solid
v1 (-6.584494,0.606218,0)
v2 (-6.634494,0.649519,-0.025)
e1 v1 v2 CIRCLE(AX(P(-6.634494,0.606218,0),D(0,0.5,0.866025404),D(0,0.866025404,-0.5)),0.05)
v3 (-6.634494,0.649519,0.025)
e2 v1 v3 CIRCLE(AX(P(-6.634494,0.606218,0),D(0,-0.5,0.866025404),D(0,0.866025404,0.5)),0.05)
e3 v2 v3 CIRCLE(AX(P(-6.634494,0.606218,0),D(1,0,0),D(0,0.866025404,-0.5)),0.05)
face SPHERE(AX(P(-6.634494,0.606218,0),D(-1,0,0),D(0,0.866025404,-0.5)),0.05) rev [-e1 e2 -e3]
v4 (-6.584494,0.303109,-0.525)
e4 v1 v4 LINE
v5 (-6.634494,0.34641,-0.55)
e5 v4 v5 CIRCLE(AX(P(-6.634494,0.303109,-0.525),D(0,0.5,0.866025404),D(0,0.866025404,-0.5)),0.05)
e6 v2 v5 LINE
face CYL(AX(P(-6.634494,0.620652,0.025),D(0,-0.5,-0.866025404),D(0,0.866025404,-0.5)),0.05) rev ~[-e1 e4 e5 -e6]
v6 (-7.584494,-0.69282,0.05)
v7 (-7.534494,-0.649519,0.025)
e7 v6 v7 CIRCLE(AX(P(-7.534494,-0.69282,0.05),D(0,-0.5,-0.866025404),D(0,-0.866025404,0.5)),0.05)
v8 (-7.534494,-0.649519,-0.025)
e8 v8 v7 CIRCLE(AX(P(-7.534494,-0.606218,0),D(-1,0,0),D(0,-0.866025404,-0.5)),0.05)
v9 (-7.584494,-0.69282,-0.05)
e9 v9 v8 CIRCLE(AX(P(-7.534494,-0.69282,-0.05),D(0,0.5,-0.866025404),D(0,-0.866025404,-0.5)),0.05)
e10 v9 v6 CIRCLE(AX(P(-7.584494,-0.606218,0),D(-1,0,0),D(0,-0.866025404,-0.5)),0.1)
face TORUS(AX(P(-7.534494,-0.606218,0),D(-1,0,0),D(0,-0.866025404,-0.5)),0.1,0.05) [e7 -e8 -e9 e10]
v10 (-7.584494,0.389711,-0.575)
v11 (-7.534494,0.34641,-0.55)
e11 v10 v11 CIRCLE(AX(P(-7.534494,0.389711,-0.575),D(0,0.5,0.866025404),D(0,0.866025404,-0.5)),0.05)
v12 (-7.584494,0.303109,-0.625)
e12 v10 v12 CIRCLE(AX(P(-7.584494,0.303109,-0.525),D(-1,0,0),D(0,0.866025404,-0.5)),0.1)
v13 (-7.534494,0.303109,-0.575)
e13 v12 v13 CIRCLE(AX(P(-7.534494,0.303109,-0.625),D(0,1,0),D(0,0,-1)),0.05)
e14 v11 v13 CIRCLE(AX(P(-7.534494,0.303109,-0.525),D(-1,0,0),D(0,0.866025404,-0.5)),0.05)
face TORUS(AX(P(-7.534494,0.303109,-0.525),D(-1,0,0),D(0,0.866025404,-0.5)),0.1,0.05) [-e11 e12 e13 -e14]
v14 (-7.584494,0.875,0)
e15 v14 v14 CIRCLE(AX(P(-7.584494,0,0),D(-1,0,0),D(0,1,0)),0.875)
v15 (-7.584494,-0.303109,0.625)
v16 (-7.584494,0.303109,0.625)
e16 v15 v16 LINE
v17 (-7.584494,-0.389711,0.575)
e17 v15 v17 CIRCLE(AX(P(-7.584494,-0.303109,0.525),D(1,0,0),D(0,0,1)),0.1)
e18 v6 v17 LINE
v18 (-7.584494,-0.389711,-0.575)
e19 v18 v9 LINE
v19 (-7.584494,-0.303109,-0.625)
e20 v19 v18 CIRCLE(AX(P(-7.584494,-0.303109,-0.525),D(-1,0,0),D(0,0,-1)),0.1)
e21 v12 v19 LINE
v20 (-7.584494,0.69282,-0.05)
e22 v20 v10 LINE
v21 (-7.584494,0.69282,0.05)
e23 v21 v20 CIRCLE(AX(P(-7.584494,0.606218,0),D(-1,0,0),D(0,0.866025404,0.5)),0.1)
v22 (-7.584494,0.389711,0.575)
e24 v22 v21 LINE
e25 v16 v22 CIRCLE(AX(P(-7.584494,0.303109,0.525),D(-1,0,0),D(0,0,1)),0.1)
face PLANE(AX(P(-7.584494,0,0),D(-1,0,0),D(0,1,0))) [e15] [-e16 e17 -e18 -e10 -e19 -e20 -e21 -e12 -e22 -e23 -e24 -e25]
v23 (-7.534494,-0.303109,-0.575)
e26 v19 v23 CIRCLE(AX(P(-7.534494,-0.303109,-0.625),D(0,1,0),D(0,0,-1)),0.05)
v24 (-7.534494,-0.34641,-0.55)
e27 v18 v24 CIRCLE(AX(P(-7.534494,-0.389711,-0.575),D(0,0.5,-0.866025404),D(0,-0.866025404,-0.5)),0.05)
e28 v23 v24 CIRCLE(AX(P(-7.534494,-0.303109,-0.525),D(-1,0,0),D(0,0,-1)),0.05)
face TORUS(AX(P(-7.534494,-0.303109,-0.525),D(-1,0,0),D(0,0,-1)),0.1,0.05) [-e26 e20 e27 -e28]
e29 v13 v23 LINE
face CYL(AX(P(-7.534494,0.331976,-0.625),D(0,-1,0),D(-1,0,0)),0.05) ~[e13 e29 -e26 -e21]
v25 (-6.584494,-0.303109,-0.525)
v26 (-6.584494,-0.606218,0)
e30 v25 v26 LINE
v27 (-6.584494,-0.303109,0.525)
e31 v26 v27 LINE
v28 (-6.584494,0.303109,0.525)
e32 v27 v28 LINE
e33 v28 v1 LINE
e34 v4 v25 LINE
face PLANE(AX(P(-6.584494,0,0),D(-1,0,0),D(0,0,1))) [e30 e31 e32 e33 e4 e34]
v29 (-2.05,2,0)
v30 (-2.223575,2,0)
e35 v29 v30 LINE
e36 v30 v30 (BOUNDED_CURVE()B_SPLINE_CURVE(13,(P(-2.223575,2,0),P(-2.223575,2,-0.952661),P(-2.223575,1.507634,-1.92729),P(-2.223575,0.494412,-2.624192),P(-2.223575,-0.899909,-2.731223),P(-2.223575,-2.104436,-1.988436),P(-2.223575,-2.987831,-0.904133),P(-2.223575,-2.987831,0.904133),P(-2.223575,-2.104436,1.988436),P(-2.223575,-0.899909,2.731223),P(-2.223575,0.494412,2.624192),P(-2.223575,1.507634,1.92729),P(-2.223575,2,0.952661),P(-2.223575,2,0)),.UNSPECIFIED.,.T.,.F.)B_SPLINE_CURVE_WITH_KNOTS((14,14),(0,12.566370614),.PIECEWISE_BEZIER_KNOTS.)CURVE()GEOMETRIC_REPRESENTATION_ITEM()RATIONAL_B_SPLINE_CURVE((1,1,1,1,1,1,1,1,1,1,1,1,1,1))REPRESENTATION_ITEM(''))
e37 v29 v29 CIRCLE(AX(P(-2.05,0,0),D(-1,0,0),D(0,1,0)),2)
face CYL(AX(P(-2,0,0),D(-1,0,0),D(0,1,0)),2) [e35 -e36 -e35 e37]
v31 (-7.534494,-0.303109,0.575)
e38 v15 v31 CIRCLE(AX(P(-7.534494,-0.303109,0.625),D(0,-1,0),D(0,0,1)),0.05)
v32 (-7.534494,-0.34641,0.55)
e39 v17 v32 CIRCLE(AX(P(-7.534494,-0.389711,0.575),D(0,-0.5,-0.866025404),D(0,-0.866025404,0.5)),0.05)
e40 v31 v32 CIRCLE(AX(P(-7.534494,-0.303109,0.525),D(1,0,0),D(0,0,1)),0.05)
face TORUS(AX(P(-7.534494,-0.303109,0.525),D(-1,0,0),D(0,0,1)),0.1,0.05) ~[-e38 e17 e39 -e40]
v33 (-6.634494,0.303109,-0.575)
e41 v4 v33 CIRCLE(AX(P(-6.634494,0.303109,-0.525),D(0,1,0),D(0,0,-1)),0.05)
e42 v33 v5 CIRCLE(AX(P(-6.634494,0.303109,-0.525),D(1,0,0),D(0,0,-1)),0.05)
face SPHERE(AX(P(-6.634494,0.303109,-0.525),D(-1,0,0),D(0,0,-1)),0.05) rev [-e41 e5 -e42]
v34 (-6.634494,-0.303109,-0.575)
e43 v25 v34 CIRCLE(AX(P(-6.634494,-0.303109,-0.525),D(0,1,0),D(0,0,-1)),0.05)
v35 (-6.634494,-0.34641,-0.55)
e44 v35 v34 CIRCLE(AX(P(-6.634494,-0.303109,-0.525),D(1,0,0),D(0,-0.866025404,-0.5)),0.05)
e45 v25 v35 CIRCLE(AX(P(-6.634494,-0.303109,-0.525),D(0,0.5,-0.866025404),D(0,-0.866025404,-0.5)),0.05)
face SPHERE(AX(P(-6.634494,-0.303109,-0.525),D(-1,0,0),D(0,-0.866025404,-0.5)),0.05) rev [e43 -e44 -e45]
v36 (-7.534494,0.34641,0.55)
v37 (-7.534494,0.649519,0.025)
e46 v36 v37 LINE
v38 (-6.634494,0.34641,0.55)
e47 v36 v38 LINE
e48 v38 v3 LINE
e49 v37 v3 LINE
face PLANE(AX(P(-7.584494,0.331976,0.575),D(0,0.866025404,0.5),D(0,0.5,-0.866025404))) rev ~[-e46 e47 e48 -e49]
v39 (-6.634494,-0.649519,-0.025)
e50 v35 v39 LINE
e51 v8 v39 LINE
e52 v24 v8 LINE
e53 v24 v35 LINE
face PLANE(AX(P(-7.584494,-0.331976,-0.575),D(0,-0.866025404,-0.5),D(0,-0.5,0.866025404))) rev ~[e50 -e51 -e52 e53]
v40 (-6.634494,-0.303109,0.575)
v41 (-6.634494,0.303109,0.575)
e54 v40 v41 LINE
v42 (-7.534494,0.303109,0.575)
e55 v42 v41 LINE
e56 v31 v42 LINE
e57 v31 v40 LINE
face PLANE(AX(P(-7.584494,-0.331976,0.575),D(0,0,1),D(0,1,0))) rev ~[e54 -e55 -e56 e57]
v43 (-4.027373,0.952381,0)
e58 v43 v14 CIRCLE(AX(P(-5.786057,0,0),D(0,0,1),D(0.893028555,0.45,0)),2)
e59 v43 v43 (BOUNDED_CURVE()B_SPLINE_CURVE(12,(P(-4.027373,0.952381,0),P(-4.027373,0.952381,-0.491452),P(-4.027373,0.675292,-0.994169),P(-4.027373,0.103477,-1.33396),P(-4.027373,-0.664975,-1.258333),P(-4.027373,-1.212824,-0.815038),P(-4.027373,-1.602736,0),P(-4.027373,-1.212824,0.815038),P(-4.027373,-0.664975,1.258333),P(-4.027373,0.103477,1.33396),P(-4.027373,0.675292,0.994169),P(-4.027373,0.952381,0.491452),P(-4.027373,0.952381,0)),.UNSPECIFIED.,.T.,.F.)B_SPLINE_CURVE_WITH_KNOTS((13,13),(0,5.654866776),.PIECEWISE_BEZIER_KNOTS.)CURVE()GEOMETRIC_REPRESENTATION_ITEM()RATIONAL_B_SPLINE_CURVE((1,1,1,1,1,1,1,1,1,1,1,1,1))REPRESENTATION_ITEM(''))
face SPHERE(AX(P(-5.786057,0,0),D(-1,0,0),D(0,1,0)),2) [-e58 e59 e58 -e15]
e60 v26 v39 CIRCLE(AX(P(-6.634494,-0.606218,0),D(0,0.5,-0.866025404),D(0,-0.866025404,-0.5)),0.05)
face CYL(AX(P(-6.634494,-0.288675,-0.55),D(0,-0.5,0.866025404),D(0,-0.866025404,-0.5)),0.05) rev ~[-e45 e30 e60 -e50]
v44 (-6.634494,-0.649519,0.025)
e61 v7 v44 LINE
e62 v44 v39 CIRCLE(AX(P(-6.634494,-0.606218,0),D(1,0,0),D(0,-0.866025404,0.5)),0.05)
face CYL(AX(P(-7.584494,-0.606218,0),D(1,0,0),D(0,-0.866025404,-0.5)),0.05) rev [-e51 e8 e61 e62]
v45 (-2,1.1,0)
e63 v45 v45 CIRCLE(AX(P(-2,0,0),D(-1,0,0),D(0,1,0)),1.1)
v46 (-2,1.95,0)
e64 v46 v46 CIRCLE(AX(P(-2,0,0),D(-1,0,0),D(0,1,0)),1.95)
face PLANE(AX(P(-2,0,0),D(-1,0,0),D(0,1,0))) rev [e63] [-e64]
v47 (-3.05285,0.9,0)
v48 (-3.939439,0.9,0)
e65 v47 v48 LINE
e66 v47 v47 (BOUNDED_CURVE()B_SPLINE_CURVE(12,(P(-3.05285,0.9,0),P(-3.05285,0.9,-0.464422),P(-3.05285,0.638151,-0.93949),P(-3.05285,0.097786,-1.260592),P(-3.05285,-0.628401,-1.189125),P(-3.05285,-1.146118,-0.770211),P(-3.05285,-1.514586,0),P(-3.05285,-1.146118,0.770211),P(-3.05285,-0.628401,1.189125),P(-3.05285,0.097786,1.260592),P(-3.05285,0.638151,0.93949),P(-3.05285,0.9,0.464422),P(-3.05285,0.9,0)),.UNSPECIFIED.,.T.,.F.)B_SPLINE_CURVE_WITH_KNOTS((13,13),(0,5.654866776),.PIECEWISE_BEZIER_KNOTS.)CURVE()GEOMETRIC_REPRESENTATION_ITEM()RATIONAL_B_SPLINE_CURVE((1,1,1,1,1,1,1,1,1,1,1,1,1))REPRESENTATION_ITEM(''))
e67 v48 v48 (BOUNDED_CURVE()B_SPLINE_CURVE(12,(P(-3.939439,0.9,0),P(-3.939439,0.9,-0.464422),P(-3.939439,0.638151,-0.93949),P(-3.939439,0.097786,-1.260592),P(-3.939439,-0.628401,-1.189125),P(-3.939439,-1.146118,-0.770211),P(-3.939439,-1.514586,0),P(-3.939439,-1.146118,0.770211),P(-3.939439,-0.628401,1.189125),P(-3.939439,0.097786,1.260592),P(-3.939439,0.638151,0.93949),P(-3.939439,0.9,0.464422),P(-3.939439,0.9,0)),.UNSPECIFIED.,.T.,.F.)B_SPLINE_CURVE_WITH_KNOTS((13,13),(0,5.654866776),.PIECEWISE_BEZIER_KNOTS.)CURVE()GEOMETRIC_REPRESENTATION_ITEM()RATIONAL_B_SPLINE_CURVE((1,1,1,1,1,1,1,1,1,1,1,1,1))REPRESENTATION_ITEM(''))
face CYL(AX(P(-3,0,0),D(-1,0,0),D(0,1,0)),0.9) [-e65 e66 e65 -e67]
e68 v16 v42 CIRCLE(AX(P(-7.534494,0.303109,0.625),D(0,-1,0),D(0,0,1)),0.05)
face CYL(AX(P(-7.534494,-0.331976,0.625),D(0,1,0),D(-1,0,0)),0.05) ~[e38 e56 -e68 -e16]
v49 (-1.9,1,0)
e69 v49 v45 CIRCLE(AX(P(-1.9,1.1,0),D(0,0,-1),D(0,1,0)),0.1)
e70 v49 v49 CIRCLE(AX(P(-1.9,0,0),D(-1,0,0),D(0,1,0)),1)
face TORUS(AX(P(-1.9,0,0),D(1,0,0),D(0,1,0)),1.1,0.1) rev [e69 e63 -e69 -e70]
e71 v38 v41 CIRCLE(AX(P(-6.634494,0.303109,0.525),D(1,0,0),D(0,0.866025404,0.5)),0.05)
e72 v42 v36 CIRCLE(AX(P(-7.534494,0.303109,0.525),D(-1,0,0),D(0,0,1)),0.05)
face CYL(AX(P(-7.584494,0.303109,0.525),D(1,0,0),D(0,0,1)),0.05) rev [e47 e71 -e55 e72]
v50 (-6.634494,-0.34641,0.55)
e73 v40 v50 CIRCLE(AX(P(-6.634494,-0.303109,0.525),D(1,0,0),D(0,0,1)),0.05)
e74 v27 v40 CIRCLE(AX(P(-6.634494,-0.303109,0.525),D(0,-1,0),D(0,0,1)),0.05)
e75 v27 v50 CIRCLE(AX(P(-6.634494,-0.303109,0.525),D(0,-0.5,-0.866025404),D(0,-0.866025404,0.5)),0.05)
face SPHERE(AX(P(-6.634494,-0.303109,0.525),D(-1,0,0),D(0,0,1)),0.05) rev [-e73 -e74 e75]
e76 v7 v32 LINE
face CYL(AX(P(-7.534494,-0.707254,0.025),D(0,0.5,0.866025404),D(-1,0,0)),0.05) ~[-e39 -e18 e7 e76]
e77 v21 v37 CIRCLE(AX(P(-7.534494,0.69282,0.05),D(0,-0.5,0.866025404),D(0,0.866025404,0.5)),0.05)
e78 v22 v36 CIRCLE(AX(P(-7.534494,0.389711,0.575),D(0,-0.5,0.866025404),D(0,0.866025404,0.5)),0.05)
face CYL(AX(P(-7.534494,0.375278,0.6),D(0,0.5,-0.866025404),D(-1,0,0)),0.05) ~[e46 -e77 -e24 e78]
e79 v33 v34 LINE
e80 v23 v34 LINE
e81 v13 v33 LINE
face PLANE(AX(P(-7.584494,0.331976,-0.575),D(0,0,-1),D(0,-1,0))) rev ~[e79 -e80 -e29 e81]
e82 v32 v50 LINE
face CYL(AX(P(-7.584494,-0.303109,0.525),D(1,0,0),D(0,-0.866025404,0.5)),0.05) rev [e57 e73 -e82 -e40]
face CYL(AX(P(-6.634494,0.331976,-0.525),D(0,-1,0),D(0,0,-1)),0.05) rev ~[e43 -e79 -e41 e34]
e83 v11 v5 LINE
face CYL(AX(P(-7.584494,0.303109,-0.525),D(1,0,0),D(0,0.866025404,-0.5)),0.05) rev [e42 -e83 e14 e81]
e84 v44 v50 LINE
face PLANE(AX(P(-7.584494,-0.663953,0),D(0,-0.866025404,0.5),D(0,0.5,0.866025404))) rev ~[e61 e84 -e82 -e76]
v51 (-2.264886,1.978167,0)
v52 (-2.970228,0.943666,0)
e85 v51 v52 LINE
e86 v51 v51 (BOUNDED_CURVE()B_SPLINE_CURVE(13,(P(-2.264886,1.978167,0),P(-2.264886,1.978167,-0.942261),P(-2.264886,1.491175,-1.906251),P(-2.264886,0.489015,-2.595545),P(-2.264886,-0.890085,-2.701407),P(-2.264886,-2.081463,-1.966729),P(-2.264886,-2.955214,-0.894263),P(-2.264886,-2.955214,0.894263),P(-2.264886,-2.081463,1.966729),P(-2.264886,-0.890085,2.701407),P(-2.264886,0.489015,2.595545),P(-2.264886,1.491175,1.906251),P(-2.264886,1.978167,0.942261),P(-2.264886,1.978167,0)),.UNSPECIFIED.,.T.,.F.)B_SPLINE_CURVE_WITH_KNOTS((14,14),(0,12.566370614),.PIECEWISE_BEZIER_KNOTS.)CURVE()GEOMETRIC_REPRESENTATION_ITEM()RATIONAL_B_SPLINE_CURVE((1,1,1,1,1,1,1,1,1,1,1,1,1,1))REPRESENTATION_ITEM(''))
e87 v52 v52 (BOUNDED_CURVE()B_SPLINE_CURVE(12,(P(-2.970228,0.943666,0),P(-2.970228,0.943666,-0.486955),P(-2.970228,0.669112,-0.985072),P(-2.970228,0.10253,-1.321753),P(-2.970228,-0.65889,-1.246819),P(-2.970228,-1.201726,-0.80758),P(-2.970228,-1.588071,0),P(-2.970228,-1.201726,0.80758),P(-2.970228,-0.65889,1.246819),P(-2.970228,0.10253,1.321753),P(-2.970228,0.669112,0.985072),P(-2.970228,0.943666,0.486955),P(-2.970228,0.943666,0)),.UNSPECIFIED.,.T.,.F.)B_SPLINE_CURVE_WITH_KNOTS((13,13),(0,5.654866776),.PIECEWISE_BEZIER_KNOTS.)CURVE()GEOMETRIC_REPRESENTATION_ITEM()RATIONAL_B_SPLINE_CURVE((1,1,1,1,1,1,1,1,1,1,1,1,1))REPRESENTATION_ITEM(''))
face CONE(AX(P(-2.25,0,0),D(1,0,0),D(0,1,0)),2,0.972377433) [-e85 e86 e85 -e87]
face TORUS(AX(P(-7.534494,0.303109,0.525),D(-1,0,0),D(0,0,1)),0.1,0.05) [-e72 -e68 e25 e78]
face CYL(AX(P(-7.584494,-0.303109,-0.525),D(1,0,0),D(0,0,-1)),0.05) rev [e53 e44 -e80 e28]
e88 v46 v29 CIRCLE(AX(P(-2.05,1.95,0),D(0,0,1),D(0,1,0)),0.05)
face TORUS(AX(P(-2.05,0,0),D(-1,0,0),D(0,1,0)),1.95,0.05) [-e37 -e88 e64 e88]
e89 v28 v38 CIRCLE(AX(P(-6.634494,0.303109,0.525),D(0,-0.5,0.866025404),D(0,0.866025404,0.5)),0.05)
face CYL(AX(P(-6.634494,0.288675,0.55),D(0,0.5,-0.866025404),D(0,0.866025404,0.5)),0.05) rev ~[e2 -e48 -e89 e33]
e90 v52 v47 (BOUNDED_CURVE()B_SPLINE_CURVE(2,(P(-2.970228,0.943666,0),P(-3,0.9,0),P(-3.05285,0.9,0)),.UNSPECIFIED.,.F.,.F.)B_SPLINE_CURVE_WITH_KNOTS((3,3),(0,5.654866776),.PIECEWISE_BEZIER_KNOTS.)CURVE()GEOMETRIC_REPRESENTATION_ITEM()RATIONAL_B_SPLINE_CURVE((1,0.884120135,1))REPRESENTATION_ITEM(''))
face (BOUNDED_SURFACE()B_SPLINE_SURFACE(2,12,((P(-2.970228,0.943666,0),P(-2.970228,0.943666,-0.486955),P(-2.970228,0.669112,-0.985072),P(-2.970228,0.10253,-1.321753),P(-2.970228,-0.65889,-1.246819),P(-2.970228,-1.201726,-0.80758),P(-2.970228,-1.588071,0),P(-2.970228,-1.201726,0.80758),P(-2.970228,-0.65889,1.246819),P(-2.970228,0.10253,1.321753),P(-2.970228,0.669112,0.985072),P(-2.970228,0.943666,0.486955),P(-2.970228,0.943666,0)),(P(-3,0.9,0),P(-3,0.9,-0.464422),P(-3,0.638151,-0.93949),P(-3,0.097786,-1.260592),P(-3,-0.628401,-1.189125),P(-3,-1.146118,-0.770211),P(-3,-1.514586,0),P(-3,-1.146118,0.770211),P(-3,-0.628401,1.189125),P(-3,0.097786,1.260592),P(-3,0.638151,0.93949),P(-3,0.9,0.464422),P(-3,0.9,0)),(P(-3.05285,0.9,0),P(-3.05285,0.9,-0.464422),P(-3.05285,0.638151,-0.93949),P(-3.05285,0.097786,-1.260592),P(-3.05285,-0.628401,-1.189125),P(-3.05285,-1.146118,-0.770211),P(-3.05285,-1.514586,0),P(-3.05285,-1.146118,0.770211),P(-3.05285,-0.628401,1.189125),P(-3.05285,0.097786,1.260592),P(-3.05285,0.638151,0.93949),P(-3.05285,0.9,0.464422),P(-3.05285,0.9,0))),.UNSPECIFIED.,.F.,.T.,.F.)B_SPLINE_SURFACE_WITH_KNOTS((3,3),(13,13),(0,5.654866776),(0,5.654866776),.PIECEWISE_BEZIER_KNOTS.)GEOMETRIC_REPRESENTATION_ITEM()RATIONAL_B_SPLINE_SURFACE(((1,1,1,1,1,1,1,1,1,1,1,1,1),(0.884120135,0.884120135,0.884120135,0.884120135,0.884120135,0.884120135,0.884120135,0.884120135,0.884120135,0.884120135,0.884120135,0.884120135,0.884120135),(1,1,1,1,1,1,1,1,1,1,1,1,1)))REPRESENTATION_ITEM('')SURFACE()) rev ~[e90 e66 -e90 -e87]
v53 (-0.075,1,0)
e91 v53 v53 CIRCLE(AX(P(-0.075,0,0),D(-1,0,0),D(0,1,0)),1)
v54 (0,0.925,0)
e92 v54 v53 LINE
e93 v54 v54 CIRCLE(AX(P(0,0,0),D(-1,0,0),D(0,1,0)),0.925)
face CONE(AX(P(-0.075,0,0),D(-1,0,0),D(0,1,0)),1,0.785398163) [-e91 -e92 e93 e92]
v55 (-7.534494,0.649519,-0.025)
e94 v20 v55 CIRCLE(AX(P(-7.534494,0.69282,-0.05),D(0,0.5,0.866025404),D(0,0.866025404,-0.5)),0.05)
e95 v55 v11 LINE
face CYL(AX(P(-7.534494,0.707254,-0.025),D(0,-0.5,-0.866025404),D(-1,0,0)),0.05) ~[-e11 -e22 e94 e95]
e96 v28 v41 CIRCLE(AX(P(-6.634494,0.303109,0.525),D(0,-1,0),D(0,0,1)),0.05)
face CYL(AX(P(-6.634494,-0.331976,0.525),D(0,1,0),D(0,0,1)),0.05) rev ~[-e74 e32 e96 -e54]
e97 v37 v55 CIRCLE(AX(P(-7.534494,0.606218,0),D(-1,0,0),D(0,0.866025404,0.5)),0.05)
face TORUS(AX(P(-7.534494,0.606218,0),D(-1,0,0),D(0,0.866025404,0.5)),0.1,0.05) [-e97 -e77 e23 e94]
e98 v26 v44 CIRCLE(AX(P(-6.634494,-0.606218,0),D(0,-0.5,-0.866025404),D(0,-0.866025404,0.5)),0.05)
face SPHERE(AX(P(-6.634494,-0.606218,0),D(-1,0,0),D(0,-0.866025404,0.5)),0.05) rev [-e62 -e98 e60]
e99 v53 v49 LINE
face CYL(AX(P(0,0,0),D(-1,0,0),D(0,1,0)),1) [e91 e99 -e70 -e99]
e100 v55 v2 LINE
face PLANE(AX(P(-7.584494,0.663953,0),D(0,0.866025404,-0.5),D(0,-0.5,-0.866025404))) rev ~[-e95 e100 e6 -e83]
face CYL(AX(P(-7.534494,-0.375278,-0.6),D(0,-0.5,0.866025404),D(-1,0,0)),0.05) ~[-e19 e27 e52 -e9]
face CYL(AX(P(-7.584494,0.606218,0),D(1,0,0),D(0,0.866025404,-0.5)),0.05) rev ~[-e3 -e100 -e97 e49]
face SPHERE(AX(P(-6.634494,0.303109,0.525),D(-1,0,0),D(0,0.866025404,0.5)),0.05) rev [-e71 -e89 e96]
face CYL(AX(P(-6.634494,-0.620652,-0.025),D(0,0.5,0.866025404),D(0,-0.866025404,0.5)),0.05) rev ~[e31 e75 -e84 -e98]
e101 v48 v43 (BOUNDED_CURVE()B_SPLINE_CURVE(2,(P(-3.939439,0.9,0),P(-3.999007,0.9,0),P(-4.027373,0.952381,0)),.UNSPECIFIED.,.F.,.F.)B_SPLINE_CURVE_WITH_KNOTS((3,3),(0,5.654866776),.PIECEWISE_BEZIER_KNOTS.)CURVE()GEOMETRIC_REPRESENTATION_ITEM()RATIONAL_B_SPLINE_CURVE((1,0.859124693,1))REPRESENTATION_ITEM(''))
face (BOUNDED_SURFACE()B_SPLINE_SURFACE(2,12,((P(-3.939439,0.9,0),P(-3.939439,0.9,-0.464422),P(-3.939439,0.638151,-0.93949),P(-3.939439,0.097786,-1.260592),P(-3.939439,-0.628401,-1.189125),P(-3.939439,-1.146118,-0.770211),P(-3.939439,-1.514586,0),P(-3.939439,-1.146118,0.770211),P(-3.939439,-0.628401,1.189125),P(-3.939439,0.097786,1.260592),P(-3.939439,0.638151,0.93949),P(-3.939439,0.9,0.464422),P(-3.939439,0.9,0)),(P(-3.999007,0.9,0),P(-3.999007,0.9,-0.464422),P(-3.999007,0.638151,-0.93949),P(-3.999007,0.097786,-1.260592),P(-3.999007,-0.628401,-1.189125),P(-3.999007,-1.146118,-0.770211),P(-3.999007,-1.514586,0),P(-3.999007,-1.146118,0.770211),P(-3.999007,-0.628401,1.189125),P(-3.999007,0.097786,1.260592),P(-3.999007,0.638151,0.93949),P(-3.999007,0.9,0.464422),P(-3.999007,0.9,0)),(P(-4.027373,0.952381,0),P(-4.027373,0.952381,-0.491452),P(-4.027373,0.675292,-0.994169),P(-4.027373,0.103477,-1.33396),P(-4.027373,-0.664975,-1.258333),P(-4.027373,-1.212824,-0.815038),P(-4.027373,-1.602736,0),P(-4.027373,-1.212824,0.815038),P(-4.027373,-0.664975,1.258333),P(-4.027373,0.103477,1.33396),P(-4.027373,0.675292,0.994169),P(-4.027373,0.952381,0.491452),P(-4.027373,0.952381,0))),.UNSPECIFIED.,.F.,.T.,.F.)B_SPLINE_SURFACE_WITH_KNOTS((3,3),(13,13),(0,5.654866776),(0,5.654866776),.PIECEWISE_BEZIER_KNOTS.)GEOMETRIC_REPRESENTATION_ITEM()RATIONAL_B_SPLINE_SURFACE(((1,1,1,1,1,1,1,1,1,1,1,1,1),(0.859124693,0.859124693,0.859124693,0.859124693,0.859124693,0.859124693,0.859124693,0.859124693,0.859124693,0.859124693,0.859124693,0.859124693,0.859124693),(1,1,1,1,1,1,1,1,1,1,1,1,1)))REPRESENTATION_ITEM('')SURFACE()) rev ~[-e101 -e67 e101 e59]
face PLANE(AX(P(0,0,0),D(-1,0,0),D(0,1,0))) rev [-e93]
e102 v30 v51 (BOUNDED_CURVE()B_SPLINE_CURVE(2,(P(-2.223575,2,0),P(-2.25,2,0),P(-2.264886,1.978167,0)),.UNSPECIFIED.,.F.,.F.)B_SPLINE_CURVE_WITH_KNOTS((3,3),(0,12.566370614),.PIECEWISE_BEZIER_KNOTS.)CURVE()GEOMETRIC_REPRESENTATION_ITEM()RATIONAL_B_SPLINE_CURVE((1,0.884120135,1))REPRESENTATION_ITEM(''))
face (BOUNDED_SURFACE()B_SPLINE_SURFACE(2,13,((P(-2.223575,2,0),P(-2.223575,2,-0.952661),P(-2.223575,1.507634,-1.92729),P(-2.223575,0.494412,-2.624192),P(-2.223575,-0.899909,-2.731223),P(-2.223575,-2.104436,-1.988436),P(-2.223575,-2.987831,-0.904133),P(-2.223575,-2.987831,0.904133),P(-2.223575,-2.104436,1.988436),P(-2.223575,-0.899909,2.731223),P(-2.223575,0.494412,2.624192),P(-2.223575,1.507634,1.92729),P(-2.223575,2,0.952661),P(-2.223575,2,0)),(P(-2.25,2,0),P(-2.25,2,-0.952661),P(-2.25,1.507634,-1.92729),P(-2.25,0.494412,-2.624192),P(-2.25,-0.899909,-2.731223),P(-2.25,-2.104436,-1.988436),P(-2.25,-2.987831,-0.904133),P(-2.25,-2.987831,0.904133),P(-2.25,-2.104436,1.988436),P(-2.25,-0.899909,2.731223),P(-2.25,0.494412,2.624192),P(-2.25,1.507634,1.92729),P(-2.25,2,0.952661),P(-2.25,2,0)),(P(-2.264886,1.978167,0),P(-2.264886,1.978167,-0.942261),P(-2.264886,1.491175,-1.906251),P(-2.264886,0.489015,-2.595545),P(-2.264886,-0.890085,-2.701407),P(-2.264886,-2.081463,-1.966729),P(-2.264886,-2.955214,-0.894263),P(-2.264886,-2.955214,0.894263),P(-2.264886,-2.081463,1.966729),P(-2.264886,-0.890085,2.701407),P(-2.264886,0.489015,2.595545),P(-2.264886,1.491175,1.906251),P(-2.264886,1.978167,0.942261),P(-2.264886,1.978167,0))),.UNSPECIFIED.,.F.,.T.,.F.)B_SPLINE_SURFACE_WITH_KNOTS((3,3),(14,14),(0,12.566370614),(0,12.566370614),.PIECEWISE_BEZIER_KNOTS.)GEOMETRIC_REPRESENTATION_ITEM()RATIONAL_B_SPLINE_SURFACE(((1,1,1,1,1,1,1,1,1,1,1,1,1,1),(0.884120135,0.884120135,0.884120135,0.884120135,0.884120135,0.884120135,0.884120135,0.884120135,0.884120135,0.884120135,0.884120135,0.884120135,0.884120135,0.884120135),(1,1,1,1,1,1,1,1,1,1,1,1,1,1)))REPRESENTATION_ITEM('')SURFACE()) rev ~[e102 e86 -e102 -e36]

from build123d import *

# Parameters (mm, degrees)
CHAMFER1_SIZE      = 0.075
FILLET1_R          = 0.1
FILLET2_R          = 0.05
CUT_EXTRUDE1_DEPTH = 1
FILLET3_R          = 0.05


with BuildPart() as part:
    # Sketch1 → Revolve1 (revolve)
    with BuildSketch(Plane.XY):
        with BuildLine():
            Line((0, 0), (0, 1))
            Line((0, 1), (-2, 1))
            Line((-2, 1), (-2, 2))
            Line((-2, 2), (-2.25, 2))
            Line((-2.25, 2), (-3, 0.9))
            Line((-3, 0.9), (-4, 0.9))
            ThreePointArc((-4, 0.9), (-5.800005741, 1.999951358), (-7.584493931, 0.875))
            Line((-7.584493931, 0.875), (-7.584493931, 0))
            Line((-7.584493931, 0), (-4, 0))
            Line((-4, 0), (0, 0))
        make_face()
    revolve(axis=Axis((0, 0, 0), (-1, 0, 0)))

    # Chamfer1
    chamfer1_edges = [part.edges().sort_by_distance(p)[0] for p in [
        (0, -1, 0),
    ]]
    chamfer(chamfer1_edges, length=CHAMFER1_SIZE)

    # Fillet1
    fillet1_edges = [part.edges().sort_by_distance(p)[0] for p in [
        (-3, -0.9, 0),
        (-4, -0.9, 0),
        (-2, -1, 0),
    ]]
    fillet(fillet1_edges, radius=FILLET1_R)

    # Fillet2
    fillet2_edges = [part.edges().sort_by_distance(p)[0] for p in [
        (-2, -2, 0),
        (-2.25, -2, 0),
    ]]
    fillet(fillet2_edges, radius=FILLET2_R)

    # Sketch3 → Cut-Extrude1 (cut)
    with BuildSketch(Plane.ZY.offset(7.584493931)):
        Polygon((0, 0.66395281), (-0.575, 0.331976405), (-0.575, -0.331976405), (0, -0.66395281), (0.575, -0.331976405), (0.575, 0.331976405), align=None)
    extrude(amount=-CUT_EXTRUDE1_DEPTH, mode=Mode.SUBTRACT)

    # Fillet3
    fillet3_edges = [part.edges().sort_by_distance(p)[0] for p in [
        (-6.584493931, 0, 0.575),
        (-7.084493931, 0.331976405, 0.575),
        (-6.584493931, -0.497964607, 0.2875),
        (-7.084493931, -0.331976405, 0.575),
        (-6.584493931, -0.497964607, -0.2875),
        (-7.084493931, -0.66395281, 0),
        (-6.584493931, 0, -0.575),
        (-7.084493931, -0.331976405, -0.575),
        (-6.584493931, 0.497964607, -0.2875),
        (-7.084493931, 0.331976405, -0.575),
        (-6.584493931, 0.497964607, 0.2875),
        (-7.084493931, 0.66395281, 0),
        (-7.584493931, 0, 0.575),
        (-7.584493931, 0.497964607, 0.2875),
        (-7.584493931, 0.497964607, -0.2875),
        (-7.584493931, 0, -0.575),
        (-7.584493931, -0.497964607, -0.2875),
        (-7.584493931, -0.497964607, 0.2875),
    ]]
    fillet(fillet3_edges, radius=FILLET3_R)


solid = part.part
